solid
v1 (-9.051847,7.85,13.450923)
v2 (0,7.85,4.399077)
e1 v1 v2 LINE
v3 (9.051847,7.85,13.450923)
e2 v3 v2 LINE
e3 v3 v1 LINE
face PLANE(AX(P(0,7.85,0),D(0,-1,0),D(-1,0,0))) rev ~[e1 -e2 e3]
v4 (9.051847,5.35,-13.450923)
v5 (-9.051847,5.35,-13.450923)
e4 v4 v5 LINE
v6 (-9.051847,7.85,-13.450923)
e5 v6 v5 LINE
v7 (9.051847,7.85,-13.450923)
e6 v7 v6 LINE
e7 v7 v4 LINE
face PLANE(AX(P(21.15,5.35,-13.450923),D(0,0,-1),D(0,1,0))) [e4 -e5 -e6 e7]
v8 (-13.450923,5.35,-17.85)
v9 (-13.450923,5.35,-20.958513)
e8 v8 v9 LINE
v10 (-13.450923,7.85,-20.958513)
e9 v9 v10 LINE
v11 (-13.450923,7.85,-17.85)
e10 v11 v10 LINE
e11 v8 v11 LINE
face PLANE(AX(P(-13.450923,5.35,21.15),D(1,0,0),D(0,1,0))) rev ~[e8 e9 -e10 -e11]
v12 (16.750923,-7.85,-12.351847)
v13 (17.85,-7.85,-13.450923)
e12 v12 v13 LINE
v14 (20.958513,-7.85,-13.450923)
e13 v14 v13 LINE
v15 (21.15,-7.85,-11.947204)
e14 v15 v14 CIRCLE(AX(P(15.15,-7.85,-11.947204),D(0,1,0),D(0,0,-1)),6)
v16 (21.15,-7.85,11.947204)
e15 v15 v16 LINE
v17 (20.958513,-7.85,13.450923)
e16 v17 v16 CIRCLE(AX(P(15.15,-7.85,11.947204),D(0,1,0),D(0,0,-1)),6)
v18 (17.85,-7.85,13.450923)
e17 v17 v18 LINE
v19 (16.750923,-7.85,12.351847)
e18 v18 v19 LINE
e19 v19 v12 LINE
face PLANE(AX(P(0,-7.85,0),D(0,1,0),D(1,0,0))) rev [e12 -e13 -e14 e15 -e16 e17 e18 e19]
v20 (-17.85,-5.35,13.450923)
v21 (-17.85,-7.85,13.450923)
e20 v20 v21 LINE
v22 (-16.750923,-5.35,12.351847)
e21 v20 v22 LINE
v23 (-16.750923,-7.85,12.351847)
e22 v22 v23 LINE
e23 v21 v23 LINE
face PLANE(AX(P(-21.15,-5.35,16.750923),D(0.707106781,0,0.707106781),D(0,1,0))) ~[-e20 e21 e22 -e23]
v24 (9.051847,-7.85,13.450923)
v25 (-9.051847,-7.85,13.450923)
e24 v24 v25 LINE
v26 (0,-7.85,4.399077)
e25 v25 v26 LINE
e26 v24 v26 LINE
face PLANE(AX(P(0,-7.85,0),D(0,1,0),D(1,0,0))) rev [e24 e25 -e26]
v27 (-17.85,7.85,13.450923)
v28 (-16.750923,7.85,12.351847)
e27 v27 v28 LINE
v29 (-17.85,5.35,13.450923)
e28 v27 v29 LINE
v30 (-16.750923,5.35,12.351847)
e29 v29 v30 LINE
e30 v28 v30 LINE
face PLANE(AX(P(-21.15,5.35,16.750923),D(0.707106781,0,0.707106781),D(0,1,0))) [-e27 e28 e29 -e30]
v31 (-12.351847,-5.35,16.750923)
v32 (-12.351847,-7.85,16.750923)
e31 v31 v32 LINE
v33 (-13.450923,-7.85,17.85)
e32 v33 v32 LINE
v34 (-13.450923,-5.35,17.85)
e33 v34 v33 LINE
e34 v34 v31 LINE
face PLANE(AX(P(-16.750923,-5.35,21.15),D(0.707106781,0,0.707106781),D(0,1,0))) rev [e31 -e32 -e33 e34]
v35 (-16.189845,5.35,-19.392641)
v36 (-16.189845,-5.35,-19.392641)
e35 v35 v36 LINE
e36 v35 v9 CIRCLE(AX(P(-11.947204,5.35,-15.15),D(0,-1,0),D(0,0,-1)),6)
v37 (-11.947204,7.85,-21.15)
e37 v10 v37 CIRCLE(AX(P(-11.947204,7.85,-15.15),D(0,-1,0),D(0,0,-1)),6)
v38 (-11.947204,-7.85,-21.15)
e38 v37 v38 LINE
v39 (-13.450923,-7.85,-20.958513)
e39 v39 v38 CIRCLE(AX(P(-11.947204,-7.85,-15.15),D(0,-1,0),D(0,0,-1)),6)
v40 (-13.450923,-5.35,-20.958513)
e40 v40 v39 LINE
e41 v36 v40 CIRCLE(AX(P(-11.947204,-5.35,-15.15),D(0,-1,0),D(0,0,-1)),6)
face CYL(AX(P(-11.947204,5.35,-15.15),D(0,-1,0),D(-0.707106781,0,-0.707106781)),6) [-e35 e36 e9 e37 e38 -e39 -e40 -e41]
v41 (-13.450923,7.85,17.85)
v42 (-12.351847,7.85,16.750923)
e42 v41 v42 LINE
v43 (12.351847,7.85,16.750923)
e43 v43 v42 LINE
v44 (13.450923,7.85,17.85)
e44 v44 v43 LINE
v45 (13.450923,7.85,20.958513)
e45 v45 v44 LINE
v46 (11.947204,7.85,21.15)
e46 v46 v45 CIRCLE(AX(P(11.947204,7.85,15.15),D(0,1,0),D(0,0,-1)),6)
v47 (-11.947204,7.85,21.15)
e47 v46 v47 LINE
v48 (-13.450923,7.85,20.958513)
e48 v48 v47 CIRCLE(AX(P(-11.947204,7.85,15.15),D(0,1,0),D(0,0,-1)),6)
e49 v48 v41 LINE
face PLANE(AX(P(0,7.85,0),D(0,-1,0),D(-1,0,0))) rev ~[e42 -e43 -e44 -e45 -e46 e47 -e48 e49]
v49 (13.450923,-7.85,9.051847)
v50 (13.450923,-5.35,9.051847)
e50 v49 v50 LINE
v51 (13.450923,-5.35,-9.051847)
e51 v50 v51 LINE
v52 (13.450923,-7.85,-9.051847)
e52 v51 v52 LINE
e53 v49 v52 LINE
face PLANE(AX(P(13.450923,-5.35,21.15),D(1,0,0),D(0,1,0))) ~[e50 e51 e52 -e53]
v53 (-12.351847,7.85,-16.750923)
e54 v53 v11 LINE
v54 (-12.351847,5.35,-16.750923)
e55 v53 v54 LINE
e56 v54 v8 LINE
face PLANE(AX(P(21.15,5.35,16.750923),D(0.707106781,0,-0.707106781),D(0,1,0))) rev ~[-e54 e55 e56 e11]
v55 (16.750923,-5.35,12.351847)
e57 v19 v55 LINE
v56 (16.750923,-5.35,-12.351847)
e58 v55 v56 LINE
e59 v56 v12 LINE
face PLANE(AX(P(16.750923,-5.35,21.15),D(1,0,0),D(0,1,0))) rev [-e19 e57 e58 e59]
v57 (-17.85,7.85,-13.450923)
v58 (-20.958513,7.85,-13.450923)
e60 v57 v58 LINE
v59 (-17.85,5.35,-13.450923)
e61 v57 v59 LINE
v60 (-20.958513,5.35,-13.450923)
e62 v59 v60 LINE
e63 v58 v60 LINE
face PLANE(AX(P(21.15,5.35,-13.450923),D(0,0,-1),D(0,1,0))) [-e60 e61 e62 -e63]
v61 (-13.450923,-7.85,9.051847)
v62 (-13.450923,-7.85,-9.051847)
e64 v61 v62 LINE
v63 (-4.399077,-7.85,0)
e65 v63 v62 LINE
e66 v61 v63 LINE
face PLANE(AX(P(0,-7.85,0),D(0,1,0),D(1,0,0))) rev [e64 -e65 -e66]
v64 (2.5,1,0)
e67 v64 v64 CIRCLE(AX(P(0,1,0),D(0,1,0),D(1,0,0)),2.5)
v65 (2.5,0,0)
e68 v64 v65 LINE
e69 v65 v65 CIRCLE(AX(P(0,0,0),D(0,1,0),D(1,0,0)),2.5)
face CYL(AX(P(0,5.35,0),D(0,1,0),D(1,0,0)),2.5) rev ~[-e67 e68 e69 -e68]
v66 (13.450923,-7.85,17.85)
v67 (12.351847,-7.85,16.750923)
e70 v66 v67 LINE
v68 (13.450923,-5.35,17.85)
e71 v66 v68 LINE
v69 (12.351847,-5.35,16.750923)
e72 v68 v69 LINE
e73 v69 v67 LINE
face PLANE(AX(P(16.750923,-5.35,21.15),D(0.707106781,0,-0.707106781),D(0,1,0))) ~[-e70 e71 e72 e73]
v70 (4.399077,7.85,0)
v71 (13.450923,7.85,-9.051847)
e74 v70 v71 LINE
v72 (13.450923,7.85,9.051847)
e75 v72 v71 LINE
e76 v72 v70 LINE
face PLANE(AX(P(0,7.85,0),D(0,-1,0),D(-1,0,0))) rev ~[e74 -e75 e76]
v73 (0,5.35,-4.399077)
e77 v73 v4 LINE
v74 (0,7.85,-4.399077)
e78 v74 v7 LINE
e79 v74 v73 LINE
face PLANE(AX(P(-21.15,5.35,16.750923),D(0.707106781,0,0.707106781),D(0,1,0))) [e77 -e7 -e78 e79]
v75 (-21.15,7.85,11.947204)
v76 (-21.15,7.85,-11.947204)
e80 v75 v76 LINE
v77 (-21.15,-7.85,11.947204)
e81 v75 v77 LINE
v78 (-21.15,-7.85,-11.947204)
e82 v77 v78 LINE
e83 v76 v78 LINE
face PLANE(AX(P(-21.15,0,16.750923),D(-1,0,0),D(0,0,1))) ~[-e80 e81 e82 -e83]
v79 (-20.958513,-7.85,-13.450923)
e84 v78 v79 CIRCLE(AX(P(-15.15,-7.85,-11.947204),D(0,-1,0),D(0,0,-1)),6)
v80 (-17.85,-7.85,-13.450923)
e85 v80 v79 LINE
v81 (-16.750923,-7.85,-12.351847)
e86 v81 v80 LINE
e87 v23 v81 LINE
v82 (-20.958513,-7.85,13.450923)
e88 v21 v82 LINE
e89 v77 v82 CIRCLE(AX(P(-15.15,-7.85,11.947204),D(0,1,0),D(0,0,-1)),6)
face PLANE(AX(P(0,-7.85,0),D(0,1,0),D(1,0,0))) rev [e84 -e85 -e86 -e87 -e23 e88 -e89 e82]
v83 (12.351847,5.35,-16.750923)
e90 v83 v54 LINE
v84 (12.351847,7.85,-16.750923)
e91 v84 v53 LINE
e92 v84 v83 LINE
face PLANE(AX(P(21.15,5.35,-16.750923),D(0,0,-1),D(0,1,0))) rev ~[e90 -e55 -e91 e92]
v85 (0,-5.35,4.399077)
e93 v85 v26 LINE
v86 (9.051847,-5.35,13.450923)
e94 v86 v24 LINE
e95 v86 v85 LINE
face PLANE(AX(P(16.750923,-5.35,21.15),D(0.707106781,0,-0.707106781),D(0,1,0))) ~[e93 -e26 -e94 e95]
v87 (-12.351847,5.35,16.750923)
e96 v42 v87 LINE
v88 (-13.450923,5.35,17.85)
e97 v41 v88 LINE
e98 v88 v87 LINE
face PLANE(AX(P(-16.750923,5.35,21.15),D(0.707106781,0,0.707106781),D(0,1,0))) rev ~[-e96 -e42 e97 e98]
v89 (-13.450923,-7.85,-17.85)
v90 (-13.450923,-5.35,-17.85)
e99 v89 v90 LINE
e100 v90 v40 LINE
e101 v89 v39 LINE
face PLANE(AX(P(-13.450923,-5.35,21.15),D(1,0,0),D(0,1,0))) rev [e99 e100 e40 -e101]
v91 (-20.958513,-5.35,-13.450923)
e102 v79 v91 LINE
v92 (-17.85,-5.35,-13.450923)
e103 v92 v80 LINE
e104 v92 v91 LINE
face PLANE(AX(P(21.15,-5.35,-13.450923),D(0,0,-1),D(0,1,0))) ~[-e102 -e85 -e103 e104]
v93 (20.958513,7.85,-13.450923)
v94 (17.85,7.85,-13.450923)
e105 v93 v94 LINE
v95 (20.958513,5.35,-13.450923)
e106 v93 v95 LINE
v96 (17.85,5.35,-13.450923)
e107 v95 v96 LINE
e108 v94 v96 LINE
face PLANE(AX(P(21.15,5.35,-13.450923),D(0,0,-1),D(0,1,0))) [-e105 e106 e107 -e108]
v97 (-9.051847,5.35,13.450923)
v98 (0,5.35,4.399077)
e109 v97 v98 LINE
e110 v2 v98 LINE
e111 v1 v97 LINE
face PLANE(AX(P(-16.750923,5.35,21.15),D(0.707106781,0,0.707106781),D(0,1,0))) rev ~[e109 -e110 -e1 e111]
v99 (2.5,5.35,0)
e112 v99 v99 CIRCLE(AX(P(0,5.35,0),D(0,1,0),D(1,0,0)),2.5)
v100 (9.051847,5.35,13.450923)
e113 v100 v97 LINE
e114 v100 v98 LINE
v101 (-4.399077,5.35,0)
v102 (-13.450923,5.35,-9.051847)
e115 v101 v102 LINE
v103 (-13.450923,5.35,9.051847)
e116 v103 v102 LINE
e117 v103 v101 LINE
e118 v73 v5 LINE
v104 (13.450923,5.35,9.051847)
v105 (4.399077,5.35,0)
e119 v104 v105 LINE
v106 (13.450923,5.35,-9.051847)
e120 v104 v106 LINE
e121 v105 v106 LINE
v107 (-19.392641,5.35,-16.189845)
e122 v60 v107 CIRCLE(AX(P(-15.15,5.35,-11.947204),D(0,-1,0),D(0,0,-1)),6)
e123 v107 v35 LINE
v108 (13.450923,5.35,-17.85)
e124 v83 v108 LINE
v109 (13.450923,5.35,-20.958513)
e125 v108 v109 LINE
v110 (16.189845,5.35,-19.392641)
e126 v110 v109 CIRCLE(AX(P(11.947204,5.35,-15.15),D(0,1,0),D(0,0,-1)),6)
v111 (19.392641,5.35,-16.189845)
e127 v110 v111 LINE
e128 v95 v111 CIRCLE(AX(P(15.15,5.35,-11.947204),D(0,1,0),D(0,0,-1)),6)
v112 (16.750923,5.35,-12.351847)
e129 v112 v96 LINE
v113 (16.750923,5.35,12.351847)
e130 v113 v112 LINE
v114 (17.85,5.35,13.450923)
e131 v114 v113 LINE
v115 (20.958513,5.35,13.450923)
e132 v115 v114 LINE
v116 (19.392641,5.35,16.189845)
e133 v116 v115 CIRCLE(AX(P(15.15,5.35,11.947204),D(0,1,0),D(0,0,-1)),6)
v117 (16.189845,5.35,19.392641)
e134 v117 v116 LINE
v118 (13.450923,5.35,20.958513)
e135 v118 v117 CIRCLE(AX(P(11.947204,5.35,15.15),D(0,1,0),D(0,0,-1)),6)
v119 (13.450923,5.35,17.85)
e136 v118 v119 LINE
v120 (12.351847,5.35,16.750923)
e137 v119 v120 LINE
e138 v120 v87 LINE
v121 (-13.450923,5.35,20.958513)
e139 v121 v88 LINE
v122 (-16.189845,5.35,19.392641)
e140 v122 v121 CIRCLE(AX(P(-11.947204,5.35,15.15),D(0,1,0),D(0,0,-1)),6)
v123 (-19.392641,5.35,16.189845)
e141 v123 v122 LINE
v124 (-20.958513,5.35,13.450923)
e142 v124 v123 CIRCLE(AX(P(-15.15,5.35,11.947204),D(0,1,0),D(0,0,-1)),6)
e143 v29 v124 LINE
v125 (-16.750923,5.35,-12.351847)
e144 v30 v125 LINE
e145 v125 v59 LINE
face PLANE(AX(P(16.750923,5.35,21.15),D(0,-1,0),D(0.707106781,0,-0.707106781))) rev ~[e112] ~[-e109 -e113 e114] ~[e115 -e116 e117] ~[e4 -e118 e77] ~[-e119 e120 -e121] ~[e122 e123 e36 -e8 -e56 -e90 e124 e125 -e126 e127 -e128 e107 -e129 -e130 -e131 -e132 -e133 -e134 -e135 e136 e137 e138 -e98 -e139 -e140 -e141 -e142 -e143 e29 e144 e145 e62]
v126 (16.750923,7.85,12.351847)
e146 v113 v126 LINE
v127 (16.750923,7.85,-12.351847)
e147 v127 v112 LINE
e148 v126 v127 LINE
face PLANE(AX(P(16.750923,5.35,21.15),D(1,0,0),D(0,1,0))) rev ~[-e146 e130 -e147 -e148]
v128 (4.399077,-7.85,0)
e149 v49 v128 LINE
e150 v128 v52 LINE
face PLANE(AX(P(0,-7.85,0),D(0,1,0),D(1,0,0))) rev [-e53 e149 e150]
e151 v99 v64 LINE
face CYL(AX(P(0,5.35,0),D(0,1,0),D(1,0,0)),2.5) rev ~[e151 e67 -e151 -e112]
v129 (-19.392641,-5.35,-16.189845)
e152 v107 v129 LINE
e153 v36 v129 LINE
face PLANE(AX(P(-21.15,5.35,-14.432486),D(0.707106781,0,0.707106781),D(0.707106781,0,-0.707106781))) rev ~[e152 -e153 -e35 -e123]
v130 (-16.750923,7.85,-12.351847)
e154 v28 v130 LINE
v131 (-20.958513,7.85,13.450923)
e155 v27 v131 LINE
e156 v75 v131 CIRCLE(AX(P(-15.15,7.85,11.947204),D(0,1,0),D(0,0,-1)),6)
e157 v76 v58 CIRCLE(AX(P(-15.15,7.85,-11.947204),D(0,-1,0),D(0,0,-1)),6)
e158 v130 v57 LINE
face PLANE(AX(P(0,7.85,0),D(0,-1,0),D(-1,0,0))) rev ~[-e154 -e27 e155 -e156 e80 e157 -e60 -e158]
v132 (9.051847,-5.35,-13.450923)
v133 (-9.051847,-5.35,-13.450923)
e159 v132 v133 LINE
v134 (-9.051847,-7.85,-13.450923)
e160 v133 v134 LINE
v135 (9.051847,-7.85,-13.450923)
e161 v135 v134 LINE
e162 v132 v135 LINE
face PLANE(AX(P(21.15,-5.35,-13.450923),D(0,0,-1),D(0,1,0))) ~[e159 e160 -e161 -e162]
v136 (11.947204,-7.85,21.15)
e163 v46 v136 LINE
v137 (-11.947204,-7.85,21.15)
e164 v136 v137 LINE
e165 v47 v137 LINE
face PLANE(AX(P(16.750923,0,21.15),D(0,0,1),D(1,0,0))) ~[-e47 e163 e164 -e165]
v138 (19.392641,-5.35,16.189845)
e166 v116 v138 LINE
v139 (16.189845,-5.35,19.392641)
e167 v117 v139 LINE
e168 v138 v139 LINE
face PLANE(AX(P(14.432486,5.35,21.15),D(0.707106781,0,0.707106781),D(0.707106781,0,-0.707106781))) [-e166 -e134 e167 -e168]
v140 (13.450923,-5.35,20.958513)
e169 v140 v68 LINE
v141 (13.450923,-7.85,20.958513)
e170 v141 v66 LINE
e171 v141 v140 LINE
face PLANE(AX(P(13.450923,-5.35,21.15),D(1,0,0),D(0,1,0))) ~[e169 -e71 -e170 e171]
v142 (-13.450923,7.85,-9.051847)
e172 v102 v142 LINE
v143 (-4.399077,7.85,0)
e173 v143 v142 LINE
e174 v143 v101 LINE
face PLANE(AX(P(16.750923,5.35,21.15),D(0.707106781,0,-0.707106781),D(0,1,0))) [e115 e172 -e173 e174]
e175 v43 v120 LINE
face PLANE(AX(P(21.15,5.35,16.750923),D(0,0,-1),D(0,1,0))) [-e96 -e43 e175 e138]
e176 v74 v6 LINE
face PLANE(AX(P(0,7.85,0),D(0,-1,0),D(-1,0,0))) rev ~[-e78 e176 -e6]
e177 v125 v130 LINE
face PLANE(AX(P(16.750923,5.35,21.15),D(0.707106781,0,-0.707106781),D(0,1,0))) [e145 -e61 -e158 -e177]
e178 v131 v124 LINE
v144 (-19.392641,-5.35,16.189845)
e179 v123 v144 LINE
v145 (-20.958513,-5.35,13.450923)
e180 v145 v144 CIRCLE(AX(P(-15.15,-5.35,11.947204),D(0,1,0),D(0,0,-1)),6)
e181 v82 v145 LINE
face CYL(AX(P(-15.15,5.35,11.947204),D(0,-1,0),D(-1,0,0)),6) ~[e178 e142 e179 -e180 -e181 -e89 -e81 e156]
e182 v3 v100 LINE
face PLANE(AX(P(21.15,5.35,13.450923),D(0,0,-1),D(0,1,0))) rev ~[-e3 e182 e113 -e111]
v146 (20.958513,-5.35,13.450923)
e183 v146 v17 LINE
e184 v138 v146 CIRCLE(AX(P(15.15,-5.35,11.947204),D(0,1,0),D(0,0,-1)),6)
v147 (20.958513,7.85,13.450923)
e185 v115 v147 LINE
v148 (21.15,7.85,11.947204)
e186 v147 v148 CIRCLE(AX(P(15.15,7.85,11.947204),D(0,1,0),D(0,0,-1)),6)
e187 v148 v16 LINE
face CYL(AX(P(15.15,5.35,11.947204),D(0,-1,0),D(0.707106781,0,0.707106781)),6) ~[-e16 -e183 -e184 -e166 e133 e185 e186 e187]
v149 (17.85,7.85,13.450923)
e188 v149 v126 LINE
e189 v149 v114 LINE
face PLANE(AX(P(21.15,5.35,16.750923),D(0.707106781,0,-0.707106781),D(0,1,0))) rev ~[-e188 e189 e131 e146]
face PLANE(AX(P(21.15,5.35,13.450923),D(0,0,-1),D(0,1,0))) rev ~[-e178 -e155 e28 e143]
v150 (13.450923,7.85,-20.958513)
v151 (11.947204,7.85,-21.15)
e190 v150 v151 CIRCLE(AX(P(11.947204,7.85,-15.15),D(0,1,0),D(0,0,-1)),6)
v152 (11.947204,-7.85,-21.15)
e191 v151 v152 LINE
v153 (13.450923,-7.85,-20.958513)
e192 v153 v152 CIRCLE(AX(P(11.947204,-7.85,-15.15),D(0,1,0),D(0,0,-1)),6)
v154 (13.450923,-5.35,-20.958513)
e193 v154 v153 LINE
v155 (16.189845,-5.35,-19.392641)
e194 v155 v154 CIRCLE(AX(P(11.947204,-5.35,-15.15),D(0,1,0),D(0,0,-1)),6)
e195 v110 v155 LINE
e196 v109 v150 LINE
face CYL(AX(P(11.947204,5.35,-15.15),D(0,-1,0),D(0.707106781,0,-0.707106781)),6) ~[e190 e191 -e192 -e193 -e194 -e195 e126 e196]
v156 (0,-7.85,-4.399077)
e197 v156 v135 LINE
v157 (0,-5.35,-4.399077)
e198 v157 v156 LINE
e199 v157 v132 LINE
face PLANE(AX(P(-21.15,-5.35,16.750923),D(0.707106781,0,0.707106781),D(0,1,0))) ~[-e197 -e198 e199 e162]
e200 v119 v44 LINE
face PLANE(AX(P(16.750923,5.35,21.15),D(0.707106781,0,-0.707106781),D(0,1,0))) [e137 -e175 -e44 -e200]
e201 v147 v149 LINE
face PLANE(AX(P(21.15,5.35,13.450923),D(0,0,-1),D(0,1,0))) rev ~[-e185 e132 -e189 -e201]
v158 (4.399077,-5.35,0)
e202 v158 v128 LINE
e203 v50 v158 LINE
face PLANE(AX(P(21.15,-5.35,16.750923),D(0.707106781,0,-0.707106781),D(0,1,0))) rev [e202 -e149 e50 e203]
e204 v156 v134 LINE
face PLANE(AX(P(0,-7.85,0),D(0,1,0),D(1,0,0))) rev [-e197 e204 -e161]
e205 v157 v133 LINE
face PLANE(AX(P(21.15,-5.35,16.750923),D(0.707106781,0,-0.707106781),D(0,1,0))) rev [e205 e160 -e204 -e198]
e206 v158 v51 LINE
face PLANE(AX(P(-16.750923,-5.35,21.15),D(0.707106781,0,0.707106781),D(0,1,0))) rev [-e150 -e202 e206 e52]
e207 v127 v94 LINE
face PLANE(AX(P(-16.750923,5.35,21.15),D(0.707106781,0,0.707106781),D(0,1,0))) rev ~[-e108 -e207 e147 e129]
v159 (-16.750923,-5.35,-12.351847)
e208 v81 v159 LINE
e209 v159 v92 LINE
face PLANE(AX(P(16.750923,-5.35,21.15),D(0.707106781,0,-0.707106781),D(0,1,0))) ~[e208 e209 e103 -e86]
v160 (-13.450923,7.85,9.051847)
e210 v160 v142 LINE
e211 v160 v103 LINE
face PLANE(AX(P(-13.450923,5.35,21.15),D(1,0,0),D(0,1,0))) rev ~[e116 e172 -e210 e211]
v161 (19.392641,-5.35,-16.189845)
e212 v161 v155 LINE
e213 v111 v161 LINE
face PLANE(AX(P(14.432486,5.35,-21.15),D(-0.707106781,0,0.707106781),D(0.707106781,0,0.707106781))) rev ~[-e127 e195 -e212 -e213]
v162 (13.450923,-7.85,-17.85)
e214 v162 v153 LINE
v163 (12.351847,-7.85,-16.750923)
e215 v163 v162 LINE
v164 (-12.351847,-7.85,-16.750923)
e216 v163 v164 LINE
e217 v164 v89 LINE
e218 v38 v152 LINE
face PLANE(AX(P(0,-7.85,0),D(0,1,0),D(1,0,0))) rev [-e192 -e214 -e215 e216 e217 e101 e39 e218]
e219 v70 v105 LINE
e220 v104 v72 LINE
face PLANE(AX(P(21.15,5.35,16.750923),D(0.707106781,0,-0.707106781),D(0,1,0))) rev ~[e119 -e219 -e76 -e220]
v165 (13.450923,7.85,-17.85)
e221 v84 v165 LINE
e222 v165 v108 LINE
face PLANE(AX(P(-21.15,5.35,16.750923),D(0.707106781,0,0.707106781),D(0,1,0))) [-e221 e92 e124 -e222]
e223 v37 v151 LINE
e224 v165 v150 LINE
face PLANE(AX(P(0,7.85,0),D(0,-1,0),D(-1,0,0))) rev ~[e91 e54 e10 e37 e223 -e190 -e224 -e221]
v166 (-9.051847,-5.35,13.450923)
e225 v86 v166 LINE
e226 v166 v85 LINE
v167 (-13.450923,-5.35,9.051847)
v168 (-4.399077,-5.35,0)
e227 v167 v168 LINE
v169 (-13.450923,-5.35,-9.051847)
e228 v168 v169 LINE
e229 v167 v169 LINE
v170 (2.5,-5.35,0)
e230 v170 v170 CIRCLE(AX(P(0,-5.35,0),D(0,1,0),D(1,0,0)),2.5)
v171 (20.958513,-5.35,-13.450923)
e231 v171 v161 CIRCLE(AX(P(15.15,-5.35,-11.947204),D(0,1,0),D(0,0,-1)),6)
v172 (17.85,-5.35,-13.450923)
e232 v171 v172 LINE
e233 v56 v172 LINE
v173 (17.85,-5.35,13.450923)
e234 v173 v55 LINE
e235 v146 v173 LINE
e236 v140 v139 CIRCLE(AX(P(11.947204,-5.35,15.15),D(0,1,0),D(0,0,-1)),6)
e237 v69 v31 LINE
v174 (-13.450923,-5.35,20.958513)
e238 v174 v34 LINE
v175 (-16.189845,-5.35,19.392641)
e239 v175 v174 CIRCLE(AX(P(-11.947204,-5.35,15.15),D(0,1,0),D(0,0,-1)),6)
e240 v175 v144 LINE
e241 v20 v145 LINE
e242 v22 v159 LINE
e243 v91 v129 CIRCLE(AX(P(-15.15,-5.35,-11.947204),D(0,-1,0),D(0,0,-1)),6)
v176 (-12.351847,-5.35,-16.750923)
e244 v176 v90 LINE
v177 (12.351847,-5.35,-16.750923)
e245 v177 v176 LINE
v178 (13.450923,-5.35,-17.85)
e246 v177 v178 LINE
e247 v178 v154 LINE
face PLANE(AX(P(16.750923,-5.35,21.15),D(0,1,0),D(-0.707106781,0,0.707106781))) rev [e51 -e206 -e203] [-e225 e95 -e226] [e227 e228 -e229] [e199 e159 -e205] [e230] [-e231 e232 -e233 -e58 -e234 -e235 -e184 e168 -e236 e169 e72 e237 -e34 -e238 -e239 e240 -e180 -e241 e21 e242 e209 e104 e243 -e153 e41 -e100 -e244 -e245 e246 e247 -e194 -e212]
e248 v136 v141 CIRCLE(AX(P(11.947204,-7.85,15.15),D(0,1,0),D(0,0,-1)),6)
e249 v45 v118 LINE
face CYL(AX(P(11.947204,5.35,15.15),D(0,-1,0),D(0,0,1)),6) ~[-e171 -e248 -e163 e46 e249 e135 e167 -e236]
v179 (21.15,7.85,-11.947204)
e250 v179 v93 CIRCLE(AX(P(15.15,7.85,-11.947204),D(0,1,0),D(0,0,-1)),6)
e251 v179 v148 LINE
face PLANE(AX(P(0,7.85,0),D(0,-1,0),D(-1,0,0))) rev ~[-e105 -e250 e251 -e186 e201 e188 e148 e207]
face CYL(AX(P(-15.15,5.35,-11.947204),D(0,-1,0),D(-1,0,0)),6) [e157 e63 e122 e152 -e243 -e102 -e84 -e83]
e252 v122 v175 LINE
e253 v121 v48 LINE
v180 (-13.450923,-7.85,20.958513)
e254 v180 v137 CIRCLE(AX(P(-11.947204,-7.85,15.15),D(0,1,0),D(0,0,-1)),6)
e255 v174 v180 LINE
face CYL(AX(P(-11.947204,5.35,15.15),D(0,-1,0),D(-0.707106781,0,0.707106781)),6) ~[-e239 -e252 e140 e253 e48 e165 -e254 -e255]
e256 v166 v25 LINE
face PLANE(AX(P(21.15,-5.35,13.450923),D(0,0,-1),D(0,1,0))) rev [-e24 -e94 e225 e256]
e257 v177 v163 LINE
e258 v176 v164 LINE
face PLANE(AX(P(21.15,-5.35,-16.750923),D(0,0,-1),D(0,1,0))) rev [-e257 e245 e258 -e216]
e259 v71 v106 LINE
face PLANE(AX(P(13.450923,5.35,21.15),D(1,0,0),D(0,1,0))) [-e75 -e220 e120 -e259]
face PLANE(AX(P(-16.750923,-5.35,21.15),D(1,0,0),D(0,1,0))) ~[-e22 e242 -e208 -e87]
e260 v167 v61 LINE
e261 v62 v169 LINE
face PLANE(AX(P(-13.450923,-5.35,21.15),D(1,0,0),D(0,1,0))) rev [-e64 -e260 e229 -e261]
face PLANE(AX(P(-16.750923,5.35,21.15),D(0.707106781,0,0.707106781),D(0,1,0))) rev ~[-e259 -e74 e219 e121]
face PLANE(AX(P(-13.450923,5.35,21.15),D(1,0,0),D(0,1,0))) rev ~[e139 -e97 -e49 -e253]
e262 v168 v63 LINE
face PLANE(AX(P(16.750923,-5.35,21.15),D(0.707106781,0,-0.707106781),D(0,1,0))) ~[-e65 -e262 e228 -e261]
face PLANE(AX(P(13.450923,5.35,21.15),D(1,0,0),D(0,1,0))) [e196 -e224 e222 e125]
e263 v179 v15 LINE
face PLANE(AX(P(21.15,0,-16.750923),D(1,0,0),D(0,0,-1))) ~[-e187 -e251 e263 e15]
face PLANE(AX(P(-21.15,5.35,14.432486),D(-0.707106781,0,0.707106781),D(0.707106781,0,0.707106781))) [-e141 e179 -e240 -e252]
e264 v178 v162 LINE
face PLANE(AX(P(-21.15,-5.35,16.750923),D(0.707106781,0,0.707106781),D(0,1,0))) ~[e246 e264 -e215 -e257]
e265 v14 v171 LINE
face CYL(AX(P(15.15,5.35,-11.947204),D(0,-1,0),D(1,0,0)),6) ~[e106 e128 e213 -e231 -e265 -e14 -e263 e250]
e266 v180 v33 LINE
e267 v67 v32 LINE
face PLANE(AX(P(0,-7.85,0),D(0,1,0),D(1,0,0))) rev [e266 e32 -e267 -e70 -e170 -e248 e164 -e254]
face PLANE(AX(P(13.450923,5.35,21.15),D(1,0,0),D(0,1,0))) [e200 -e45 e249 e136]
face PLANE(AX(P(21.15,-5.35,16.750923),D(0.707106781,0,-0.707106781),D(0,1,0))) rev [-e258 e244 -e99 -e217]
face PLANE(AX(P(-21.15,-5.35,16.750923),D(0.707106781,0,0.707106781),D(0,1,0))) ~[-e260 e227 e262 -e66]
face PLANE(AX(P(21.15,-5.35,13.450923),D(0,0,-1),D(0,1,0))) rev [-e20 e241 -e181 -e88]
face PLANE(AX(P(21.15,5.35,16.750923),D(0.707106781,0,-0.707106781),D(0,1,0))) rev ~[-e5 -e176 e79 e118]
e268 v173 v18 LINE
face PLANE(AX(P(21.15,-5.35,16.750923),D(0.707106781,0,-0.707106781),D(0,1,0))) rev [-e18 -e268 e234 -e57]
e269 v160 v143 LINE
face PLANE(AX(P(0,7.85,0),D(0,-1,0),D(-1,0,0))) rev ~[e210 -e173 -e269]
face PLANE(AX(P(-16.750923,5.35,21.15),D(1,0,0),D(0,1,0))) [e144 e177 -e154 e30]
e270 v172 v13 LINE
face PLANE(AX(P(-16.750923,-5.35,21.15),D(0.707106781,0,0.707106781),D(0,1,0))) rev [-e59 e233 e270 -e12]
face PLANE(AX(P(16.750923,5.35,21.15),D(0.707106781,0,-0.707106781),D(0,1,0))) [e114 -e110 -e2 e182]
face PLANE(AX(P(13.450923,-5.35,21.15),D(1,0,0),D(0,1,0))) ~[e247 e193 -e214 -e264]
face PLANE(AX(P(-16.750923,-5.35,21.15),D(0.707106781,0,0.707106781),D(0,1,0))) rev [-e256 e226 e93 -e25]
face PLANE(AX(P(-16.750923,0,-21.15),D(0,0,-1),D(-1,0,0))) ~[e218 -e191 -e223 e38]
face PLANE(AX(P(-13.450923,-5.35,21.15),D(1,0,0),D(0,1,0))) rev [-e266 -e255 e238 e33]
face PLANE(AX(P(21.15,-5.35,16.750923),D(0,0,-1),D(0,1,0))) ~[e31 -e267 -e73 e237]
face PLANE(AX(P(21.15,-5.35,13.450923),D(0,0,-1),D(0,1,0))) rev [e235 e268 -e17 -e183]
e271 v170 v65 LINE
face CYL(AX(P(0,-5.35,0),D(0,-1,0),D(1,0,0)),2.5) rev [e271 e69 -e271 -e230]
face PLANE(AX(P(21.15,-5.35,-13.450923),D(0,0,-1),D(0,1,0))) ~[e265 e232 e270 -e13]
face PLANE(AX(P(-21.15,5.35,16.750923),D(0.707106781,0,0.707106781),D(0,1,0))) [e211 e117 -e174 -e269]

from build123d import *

# Parameters (mm, degrees)
BOSS_EXTRUDE1_DEPTH = 7.85
SKETCH18_W          = 3.3
SKETCH18_H          = 2.5
CUT_EXTRUDE10_DEPTH = 43.3
SKETCH19_W          = 3.3
SKETCH19_H          = 2.5
CUT_EXTRUDE11_DEPTH = 43.3
SKETCH20_W          = 6.221233688
SKETCH20_H          = 2.5
CUT_EXTRUDE12_DEPTH = 57.710616844
SKETCH21_W          = 6.221233688
SKETCH21_H          = 2.5
CUT_EXTRUDE13_DEPTH = 57.710616844
SKETCH22_R          = 2.5
CUT_EXTRUDE14_DEPTH = 6.35
CUT_EXTRUDE15_DEPTH = 14.2
FILLET8_R           = 6


with BuildPart() as part:
    # Sketch1 → Boss-Extrude1 (new body)
    with BuildSketch(Plane(origin=(0, 0, 0), x_dir=(1, 0, 0), z_dir=(0, 1, 0))):
        Polygon((-21.15, 16.750923472), (-16.750923472, 21.15), (16.750923472, 21.15), (21.15, 16.750923472), (21.15, -16.750923472), (16.750923472, -21.15), (-16.750923472, -21.15), (-21.15, -16.750923472), align=None)
    boss_extrude1 = extrude(amount=BOSS_EXTRUDE1_DEPTH)

    # Sketch18 → Cut-Extrude10 (cut, through all)
    with BuildSketch(Plane.XY.offset(21.15)):
        with Locations((15.100923472, 6.6)):
            Rectangle(SKETCH18_W, SKETCH18_H)
        with Locations((-15.100923472, 6.6)):
            Rectangle(SKETCH18_W, SKETCH18_H)
    cut_extrude10 = extrude(amount=-CUT_EXTRUDE10_DEPTH, mode=Mode.SUBTRACT)

    # Sketch19 → Cut-Extrude11 (cut, through all)
    with BuildSketch(Plane(origin=(21.15, 0, 0), x_dir=(0, 0, -1), z_dir=(1, 0, 0))):
        with Locations((-15.100923472, 6.6)):
            Rectangle(SKETCH19_W, SKETCH19_H)
        with Locations((15.100923472, 6.6)):
            Rectangle(SKETCH19_W, SKETCH19_H)
    cut_extrude11 = extrude(amount=-CUT_EXTRUDE11_DEPTH, mode=Mode.SUBTRACT)

    # Sketch20 → Cut-Extrude12 (cut, through all)
    with BuildSketch(Plane(origin=(18.950461736, 0, 18.950461736), x_dir=(0.707106781, 0, -0.707106781), z_dir=(0.707106781, 0, 0.707106781))):
        with Locations((0, 6.6)):
            Rectangle(SKETCH20_W, SKETCH20_H)
    cut_extrude12 = extrude(amount=-CUT_EXTRUDE12_DEPTH, mode=Mode.SUBTRACT)

    # Sketch21 → Cut-Extrude13 (cut, through all)
    with BuildSketch(Plane(origin=(-18.950461736, 0, 18.950461736), x_dir=(0.707106781, 0, 0.707106781), z_dir=(-0.707106781, 0, 0.707106781))):
        with Locations((0, 6.6)):
            Rectangle(SKETCH21_W, SKETCH21_H)
    cut_extrude13 = extrude(amount=-CUT_EXTRUDE13_DEPTH, mode=Mode.SUBTRACT)

    # Sketch22 → Cut-Extrude14 (cut, through all)
    with BuildSketch(Plane(origin=(0, 5.35, 0), x_dir=(1, 0, 0), z_dir=(0, 1, 0))):
        Circle(SKETCH22_R)
    cut_extrude14 = extrude(amount=-CUT_EXTRUDE14_DEPTH, mode=Mode.SUBTRACT)

    # Mirror1: Boss-Extrude1, Cut-Extrude10, Cut-Extrude11, Cut-Extrude12, Cut-Extrude13, Cut-Extrude14 across plane
    add(boss_extrude1.mirror(Plane(origin=(0, 0, 0), x_dir=(0, 0, 1), z_dir=(0, -1, 0))))
    add(cut_extrude10.mirror(Plane(origin=(0, 0, 0), x_dir=(0, 0, 1), z_dir=(0, -1, 0))), mode=Mode.SUBTRACT)
    add(cut_extrude11.mirror(Plane(origin=(0, 0, 0), x_dir=(0, 0, 1), z_dir=(0, -1, 0))), mode=Mode.SUBTRACT)
    add(cut_extrude12.mirror(Plane(origin=(0, 0, 0), x_dir=(0, 0, 1), z_dir=(0, -1, 0))), mode=Mode.SUBTRACT)
    add(cut_extrude13.mirror(Plane(origin=(0, 0, 0), x_dir=(0, 0, 1), z_dir=(0, -1, 0))), mode=Mode.SUBTRACT)
    add(cut_extrude14.mirror(Plane(origin=(0, 0, 0), x_dir=(0, 0, 1), z_dir=(0, -1, 0))), mode=Mode.SUBTRACT)

    # Sketch23 → Cut-Extrude15 (cut, through all)
    with BuildSketch(Plane(origin=(0, 5.35, 0), x_dir=(1, 0, 0), z_dir=(0, 1, 0))):
        Polygon((-21.15, -14.432485579), (-14.432485579, -21.15), (-16.750923472, -21.15), (-21.15, -16.750923472), align=None)
        Polygon((-21.15, 14.432485579), (-14.432485579, 21.15), (-16.750923472, 21.15), (-21.15, 16.750923472), align=None)
        Polygon((14.432485579, 21.15), (21.15, 14.432485579), (21.15, 16.750923472), (16.750923472, 21.15), align=None)
        Polygon((14.432485579, -21.15), (21.15, -14.432485579), (21.15, -16.750923472), (16.750923472, -21.15), align=None)
    extrude(amount=-CUT_EXTRUDE15_DEPTH, mode=Mode.SUBTRACT)

    # Fillet8
    fillet8_edges = [part.edges().sort_by_distance(p)[0] for p in [
        (14.432485579, 0, -21.15),
        (21.15, 0, -14.432485579),
        (-21.15, 0, -14.432485579),
        (-14.432485579, 0, -21.15),
        (-14.432485579, 0, 21.15),
        (-21.15, 0, 14.432485579),
        (21.15, 0, 14.432485579),
        (14.432485579, 0, 21.15),
    ]]
    fillet(fillet8_edges, radius=FILLET8_R)


solid = part.part
